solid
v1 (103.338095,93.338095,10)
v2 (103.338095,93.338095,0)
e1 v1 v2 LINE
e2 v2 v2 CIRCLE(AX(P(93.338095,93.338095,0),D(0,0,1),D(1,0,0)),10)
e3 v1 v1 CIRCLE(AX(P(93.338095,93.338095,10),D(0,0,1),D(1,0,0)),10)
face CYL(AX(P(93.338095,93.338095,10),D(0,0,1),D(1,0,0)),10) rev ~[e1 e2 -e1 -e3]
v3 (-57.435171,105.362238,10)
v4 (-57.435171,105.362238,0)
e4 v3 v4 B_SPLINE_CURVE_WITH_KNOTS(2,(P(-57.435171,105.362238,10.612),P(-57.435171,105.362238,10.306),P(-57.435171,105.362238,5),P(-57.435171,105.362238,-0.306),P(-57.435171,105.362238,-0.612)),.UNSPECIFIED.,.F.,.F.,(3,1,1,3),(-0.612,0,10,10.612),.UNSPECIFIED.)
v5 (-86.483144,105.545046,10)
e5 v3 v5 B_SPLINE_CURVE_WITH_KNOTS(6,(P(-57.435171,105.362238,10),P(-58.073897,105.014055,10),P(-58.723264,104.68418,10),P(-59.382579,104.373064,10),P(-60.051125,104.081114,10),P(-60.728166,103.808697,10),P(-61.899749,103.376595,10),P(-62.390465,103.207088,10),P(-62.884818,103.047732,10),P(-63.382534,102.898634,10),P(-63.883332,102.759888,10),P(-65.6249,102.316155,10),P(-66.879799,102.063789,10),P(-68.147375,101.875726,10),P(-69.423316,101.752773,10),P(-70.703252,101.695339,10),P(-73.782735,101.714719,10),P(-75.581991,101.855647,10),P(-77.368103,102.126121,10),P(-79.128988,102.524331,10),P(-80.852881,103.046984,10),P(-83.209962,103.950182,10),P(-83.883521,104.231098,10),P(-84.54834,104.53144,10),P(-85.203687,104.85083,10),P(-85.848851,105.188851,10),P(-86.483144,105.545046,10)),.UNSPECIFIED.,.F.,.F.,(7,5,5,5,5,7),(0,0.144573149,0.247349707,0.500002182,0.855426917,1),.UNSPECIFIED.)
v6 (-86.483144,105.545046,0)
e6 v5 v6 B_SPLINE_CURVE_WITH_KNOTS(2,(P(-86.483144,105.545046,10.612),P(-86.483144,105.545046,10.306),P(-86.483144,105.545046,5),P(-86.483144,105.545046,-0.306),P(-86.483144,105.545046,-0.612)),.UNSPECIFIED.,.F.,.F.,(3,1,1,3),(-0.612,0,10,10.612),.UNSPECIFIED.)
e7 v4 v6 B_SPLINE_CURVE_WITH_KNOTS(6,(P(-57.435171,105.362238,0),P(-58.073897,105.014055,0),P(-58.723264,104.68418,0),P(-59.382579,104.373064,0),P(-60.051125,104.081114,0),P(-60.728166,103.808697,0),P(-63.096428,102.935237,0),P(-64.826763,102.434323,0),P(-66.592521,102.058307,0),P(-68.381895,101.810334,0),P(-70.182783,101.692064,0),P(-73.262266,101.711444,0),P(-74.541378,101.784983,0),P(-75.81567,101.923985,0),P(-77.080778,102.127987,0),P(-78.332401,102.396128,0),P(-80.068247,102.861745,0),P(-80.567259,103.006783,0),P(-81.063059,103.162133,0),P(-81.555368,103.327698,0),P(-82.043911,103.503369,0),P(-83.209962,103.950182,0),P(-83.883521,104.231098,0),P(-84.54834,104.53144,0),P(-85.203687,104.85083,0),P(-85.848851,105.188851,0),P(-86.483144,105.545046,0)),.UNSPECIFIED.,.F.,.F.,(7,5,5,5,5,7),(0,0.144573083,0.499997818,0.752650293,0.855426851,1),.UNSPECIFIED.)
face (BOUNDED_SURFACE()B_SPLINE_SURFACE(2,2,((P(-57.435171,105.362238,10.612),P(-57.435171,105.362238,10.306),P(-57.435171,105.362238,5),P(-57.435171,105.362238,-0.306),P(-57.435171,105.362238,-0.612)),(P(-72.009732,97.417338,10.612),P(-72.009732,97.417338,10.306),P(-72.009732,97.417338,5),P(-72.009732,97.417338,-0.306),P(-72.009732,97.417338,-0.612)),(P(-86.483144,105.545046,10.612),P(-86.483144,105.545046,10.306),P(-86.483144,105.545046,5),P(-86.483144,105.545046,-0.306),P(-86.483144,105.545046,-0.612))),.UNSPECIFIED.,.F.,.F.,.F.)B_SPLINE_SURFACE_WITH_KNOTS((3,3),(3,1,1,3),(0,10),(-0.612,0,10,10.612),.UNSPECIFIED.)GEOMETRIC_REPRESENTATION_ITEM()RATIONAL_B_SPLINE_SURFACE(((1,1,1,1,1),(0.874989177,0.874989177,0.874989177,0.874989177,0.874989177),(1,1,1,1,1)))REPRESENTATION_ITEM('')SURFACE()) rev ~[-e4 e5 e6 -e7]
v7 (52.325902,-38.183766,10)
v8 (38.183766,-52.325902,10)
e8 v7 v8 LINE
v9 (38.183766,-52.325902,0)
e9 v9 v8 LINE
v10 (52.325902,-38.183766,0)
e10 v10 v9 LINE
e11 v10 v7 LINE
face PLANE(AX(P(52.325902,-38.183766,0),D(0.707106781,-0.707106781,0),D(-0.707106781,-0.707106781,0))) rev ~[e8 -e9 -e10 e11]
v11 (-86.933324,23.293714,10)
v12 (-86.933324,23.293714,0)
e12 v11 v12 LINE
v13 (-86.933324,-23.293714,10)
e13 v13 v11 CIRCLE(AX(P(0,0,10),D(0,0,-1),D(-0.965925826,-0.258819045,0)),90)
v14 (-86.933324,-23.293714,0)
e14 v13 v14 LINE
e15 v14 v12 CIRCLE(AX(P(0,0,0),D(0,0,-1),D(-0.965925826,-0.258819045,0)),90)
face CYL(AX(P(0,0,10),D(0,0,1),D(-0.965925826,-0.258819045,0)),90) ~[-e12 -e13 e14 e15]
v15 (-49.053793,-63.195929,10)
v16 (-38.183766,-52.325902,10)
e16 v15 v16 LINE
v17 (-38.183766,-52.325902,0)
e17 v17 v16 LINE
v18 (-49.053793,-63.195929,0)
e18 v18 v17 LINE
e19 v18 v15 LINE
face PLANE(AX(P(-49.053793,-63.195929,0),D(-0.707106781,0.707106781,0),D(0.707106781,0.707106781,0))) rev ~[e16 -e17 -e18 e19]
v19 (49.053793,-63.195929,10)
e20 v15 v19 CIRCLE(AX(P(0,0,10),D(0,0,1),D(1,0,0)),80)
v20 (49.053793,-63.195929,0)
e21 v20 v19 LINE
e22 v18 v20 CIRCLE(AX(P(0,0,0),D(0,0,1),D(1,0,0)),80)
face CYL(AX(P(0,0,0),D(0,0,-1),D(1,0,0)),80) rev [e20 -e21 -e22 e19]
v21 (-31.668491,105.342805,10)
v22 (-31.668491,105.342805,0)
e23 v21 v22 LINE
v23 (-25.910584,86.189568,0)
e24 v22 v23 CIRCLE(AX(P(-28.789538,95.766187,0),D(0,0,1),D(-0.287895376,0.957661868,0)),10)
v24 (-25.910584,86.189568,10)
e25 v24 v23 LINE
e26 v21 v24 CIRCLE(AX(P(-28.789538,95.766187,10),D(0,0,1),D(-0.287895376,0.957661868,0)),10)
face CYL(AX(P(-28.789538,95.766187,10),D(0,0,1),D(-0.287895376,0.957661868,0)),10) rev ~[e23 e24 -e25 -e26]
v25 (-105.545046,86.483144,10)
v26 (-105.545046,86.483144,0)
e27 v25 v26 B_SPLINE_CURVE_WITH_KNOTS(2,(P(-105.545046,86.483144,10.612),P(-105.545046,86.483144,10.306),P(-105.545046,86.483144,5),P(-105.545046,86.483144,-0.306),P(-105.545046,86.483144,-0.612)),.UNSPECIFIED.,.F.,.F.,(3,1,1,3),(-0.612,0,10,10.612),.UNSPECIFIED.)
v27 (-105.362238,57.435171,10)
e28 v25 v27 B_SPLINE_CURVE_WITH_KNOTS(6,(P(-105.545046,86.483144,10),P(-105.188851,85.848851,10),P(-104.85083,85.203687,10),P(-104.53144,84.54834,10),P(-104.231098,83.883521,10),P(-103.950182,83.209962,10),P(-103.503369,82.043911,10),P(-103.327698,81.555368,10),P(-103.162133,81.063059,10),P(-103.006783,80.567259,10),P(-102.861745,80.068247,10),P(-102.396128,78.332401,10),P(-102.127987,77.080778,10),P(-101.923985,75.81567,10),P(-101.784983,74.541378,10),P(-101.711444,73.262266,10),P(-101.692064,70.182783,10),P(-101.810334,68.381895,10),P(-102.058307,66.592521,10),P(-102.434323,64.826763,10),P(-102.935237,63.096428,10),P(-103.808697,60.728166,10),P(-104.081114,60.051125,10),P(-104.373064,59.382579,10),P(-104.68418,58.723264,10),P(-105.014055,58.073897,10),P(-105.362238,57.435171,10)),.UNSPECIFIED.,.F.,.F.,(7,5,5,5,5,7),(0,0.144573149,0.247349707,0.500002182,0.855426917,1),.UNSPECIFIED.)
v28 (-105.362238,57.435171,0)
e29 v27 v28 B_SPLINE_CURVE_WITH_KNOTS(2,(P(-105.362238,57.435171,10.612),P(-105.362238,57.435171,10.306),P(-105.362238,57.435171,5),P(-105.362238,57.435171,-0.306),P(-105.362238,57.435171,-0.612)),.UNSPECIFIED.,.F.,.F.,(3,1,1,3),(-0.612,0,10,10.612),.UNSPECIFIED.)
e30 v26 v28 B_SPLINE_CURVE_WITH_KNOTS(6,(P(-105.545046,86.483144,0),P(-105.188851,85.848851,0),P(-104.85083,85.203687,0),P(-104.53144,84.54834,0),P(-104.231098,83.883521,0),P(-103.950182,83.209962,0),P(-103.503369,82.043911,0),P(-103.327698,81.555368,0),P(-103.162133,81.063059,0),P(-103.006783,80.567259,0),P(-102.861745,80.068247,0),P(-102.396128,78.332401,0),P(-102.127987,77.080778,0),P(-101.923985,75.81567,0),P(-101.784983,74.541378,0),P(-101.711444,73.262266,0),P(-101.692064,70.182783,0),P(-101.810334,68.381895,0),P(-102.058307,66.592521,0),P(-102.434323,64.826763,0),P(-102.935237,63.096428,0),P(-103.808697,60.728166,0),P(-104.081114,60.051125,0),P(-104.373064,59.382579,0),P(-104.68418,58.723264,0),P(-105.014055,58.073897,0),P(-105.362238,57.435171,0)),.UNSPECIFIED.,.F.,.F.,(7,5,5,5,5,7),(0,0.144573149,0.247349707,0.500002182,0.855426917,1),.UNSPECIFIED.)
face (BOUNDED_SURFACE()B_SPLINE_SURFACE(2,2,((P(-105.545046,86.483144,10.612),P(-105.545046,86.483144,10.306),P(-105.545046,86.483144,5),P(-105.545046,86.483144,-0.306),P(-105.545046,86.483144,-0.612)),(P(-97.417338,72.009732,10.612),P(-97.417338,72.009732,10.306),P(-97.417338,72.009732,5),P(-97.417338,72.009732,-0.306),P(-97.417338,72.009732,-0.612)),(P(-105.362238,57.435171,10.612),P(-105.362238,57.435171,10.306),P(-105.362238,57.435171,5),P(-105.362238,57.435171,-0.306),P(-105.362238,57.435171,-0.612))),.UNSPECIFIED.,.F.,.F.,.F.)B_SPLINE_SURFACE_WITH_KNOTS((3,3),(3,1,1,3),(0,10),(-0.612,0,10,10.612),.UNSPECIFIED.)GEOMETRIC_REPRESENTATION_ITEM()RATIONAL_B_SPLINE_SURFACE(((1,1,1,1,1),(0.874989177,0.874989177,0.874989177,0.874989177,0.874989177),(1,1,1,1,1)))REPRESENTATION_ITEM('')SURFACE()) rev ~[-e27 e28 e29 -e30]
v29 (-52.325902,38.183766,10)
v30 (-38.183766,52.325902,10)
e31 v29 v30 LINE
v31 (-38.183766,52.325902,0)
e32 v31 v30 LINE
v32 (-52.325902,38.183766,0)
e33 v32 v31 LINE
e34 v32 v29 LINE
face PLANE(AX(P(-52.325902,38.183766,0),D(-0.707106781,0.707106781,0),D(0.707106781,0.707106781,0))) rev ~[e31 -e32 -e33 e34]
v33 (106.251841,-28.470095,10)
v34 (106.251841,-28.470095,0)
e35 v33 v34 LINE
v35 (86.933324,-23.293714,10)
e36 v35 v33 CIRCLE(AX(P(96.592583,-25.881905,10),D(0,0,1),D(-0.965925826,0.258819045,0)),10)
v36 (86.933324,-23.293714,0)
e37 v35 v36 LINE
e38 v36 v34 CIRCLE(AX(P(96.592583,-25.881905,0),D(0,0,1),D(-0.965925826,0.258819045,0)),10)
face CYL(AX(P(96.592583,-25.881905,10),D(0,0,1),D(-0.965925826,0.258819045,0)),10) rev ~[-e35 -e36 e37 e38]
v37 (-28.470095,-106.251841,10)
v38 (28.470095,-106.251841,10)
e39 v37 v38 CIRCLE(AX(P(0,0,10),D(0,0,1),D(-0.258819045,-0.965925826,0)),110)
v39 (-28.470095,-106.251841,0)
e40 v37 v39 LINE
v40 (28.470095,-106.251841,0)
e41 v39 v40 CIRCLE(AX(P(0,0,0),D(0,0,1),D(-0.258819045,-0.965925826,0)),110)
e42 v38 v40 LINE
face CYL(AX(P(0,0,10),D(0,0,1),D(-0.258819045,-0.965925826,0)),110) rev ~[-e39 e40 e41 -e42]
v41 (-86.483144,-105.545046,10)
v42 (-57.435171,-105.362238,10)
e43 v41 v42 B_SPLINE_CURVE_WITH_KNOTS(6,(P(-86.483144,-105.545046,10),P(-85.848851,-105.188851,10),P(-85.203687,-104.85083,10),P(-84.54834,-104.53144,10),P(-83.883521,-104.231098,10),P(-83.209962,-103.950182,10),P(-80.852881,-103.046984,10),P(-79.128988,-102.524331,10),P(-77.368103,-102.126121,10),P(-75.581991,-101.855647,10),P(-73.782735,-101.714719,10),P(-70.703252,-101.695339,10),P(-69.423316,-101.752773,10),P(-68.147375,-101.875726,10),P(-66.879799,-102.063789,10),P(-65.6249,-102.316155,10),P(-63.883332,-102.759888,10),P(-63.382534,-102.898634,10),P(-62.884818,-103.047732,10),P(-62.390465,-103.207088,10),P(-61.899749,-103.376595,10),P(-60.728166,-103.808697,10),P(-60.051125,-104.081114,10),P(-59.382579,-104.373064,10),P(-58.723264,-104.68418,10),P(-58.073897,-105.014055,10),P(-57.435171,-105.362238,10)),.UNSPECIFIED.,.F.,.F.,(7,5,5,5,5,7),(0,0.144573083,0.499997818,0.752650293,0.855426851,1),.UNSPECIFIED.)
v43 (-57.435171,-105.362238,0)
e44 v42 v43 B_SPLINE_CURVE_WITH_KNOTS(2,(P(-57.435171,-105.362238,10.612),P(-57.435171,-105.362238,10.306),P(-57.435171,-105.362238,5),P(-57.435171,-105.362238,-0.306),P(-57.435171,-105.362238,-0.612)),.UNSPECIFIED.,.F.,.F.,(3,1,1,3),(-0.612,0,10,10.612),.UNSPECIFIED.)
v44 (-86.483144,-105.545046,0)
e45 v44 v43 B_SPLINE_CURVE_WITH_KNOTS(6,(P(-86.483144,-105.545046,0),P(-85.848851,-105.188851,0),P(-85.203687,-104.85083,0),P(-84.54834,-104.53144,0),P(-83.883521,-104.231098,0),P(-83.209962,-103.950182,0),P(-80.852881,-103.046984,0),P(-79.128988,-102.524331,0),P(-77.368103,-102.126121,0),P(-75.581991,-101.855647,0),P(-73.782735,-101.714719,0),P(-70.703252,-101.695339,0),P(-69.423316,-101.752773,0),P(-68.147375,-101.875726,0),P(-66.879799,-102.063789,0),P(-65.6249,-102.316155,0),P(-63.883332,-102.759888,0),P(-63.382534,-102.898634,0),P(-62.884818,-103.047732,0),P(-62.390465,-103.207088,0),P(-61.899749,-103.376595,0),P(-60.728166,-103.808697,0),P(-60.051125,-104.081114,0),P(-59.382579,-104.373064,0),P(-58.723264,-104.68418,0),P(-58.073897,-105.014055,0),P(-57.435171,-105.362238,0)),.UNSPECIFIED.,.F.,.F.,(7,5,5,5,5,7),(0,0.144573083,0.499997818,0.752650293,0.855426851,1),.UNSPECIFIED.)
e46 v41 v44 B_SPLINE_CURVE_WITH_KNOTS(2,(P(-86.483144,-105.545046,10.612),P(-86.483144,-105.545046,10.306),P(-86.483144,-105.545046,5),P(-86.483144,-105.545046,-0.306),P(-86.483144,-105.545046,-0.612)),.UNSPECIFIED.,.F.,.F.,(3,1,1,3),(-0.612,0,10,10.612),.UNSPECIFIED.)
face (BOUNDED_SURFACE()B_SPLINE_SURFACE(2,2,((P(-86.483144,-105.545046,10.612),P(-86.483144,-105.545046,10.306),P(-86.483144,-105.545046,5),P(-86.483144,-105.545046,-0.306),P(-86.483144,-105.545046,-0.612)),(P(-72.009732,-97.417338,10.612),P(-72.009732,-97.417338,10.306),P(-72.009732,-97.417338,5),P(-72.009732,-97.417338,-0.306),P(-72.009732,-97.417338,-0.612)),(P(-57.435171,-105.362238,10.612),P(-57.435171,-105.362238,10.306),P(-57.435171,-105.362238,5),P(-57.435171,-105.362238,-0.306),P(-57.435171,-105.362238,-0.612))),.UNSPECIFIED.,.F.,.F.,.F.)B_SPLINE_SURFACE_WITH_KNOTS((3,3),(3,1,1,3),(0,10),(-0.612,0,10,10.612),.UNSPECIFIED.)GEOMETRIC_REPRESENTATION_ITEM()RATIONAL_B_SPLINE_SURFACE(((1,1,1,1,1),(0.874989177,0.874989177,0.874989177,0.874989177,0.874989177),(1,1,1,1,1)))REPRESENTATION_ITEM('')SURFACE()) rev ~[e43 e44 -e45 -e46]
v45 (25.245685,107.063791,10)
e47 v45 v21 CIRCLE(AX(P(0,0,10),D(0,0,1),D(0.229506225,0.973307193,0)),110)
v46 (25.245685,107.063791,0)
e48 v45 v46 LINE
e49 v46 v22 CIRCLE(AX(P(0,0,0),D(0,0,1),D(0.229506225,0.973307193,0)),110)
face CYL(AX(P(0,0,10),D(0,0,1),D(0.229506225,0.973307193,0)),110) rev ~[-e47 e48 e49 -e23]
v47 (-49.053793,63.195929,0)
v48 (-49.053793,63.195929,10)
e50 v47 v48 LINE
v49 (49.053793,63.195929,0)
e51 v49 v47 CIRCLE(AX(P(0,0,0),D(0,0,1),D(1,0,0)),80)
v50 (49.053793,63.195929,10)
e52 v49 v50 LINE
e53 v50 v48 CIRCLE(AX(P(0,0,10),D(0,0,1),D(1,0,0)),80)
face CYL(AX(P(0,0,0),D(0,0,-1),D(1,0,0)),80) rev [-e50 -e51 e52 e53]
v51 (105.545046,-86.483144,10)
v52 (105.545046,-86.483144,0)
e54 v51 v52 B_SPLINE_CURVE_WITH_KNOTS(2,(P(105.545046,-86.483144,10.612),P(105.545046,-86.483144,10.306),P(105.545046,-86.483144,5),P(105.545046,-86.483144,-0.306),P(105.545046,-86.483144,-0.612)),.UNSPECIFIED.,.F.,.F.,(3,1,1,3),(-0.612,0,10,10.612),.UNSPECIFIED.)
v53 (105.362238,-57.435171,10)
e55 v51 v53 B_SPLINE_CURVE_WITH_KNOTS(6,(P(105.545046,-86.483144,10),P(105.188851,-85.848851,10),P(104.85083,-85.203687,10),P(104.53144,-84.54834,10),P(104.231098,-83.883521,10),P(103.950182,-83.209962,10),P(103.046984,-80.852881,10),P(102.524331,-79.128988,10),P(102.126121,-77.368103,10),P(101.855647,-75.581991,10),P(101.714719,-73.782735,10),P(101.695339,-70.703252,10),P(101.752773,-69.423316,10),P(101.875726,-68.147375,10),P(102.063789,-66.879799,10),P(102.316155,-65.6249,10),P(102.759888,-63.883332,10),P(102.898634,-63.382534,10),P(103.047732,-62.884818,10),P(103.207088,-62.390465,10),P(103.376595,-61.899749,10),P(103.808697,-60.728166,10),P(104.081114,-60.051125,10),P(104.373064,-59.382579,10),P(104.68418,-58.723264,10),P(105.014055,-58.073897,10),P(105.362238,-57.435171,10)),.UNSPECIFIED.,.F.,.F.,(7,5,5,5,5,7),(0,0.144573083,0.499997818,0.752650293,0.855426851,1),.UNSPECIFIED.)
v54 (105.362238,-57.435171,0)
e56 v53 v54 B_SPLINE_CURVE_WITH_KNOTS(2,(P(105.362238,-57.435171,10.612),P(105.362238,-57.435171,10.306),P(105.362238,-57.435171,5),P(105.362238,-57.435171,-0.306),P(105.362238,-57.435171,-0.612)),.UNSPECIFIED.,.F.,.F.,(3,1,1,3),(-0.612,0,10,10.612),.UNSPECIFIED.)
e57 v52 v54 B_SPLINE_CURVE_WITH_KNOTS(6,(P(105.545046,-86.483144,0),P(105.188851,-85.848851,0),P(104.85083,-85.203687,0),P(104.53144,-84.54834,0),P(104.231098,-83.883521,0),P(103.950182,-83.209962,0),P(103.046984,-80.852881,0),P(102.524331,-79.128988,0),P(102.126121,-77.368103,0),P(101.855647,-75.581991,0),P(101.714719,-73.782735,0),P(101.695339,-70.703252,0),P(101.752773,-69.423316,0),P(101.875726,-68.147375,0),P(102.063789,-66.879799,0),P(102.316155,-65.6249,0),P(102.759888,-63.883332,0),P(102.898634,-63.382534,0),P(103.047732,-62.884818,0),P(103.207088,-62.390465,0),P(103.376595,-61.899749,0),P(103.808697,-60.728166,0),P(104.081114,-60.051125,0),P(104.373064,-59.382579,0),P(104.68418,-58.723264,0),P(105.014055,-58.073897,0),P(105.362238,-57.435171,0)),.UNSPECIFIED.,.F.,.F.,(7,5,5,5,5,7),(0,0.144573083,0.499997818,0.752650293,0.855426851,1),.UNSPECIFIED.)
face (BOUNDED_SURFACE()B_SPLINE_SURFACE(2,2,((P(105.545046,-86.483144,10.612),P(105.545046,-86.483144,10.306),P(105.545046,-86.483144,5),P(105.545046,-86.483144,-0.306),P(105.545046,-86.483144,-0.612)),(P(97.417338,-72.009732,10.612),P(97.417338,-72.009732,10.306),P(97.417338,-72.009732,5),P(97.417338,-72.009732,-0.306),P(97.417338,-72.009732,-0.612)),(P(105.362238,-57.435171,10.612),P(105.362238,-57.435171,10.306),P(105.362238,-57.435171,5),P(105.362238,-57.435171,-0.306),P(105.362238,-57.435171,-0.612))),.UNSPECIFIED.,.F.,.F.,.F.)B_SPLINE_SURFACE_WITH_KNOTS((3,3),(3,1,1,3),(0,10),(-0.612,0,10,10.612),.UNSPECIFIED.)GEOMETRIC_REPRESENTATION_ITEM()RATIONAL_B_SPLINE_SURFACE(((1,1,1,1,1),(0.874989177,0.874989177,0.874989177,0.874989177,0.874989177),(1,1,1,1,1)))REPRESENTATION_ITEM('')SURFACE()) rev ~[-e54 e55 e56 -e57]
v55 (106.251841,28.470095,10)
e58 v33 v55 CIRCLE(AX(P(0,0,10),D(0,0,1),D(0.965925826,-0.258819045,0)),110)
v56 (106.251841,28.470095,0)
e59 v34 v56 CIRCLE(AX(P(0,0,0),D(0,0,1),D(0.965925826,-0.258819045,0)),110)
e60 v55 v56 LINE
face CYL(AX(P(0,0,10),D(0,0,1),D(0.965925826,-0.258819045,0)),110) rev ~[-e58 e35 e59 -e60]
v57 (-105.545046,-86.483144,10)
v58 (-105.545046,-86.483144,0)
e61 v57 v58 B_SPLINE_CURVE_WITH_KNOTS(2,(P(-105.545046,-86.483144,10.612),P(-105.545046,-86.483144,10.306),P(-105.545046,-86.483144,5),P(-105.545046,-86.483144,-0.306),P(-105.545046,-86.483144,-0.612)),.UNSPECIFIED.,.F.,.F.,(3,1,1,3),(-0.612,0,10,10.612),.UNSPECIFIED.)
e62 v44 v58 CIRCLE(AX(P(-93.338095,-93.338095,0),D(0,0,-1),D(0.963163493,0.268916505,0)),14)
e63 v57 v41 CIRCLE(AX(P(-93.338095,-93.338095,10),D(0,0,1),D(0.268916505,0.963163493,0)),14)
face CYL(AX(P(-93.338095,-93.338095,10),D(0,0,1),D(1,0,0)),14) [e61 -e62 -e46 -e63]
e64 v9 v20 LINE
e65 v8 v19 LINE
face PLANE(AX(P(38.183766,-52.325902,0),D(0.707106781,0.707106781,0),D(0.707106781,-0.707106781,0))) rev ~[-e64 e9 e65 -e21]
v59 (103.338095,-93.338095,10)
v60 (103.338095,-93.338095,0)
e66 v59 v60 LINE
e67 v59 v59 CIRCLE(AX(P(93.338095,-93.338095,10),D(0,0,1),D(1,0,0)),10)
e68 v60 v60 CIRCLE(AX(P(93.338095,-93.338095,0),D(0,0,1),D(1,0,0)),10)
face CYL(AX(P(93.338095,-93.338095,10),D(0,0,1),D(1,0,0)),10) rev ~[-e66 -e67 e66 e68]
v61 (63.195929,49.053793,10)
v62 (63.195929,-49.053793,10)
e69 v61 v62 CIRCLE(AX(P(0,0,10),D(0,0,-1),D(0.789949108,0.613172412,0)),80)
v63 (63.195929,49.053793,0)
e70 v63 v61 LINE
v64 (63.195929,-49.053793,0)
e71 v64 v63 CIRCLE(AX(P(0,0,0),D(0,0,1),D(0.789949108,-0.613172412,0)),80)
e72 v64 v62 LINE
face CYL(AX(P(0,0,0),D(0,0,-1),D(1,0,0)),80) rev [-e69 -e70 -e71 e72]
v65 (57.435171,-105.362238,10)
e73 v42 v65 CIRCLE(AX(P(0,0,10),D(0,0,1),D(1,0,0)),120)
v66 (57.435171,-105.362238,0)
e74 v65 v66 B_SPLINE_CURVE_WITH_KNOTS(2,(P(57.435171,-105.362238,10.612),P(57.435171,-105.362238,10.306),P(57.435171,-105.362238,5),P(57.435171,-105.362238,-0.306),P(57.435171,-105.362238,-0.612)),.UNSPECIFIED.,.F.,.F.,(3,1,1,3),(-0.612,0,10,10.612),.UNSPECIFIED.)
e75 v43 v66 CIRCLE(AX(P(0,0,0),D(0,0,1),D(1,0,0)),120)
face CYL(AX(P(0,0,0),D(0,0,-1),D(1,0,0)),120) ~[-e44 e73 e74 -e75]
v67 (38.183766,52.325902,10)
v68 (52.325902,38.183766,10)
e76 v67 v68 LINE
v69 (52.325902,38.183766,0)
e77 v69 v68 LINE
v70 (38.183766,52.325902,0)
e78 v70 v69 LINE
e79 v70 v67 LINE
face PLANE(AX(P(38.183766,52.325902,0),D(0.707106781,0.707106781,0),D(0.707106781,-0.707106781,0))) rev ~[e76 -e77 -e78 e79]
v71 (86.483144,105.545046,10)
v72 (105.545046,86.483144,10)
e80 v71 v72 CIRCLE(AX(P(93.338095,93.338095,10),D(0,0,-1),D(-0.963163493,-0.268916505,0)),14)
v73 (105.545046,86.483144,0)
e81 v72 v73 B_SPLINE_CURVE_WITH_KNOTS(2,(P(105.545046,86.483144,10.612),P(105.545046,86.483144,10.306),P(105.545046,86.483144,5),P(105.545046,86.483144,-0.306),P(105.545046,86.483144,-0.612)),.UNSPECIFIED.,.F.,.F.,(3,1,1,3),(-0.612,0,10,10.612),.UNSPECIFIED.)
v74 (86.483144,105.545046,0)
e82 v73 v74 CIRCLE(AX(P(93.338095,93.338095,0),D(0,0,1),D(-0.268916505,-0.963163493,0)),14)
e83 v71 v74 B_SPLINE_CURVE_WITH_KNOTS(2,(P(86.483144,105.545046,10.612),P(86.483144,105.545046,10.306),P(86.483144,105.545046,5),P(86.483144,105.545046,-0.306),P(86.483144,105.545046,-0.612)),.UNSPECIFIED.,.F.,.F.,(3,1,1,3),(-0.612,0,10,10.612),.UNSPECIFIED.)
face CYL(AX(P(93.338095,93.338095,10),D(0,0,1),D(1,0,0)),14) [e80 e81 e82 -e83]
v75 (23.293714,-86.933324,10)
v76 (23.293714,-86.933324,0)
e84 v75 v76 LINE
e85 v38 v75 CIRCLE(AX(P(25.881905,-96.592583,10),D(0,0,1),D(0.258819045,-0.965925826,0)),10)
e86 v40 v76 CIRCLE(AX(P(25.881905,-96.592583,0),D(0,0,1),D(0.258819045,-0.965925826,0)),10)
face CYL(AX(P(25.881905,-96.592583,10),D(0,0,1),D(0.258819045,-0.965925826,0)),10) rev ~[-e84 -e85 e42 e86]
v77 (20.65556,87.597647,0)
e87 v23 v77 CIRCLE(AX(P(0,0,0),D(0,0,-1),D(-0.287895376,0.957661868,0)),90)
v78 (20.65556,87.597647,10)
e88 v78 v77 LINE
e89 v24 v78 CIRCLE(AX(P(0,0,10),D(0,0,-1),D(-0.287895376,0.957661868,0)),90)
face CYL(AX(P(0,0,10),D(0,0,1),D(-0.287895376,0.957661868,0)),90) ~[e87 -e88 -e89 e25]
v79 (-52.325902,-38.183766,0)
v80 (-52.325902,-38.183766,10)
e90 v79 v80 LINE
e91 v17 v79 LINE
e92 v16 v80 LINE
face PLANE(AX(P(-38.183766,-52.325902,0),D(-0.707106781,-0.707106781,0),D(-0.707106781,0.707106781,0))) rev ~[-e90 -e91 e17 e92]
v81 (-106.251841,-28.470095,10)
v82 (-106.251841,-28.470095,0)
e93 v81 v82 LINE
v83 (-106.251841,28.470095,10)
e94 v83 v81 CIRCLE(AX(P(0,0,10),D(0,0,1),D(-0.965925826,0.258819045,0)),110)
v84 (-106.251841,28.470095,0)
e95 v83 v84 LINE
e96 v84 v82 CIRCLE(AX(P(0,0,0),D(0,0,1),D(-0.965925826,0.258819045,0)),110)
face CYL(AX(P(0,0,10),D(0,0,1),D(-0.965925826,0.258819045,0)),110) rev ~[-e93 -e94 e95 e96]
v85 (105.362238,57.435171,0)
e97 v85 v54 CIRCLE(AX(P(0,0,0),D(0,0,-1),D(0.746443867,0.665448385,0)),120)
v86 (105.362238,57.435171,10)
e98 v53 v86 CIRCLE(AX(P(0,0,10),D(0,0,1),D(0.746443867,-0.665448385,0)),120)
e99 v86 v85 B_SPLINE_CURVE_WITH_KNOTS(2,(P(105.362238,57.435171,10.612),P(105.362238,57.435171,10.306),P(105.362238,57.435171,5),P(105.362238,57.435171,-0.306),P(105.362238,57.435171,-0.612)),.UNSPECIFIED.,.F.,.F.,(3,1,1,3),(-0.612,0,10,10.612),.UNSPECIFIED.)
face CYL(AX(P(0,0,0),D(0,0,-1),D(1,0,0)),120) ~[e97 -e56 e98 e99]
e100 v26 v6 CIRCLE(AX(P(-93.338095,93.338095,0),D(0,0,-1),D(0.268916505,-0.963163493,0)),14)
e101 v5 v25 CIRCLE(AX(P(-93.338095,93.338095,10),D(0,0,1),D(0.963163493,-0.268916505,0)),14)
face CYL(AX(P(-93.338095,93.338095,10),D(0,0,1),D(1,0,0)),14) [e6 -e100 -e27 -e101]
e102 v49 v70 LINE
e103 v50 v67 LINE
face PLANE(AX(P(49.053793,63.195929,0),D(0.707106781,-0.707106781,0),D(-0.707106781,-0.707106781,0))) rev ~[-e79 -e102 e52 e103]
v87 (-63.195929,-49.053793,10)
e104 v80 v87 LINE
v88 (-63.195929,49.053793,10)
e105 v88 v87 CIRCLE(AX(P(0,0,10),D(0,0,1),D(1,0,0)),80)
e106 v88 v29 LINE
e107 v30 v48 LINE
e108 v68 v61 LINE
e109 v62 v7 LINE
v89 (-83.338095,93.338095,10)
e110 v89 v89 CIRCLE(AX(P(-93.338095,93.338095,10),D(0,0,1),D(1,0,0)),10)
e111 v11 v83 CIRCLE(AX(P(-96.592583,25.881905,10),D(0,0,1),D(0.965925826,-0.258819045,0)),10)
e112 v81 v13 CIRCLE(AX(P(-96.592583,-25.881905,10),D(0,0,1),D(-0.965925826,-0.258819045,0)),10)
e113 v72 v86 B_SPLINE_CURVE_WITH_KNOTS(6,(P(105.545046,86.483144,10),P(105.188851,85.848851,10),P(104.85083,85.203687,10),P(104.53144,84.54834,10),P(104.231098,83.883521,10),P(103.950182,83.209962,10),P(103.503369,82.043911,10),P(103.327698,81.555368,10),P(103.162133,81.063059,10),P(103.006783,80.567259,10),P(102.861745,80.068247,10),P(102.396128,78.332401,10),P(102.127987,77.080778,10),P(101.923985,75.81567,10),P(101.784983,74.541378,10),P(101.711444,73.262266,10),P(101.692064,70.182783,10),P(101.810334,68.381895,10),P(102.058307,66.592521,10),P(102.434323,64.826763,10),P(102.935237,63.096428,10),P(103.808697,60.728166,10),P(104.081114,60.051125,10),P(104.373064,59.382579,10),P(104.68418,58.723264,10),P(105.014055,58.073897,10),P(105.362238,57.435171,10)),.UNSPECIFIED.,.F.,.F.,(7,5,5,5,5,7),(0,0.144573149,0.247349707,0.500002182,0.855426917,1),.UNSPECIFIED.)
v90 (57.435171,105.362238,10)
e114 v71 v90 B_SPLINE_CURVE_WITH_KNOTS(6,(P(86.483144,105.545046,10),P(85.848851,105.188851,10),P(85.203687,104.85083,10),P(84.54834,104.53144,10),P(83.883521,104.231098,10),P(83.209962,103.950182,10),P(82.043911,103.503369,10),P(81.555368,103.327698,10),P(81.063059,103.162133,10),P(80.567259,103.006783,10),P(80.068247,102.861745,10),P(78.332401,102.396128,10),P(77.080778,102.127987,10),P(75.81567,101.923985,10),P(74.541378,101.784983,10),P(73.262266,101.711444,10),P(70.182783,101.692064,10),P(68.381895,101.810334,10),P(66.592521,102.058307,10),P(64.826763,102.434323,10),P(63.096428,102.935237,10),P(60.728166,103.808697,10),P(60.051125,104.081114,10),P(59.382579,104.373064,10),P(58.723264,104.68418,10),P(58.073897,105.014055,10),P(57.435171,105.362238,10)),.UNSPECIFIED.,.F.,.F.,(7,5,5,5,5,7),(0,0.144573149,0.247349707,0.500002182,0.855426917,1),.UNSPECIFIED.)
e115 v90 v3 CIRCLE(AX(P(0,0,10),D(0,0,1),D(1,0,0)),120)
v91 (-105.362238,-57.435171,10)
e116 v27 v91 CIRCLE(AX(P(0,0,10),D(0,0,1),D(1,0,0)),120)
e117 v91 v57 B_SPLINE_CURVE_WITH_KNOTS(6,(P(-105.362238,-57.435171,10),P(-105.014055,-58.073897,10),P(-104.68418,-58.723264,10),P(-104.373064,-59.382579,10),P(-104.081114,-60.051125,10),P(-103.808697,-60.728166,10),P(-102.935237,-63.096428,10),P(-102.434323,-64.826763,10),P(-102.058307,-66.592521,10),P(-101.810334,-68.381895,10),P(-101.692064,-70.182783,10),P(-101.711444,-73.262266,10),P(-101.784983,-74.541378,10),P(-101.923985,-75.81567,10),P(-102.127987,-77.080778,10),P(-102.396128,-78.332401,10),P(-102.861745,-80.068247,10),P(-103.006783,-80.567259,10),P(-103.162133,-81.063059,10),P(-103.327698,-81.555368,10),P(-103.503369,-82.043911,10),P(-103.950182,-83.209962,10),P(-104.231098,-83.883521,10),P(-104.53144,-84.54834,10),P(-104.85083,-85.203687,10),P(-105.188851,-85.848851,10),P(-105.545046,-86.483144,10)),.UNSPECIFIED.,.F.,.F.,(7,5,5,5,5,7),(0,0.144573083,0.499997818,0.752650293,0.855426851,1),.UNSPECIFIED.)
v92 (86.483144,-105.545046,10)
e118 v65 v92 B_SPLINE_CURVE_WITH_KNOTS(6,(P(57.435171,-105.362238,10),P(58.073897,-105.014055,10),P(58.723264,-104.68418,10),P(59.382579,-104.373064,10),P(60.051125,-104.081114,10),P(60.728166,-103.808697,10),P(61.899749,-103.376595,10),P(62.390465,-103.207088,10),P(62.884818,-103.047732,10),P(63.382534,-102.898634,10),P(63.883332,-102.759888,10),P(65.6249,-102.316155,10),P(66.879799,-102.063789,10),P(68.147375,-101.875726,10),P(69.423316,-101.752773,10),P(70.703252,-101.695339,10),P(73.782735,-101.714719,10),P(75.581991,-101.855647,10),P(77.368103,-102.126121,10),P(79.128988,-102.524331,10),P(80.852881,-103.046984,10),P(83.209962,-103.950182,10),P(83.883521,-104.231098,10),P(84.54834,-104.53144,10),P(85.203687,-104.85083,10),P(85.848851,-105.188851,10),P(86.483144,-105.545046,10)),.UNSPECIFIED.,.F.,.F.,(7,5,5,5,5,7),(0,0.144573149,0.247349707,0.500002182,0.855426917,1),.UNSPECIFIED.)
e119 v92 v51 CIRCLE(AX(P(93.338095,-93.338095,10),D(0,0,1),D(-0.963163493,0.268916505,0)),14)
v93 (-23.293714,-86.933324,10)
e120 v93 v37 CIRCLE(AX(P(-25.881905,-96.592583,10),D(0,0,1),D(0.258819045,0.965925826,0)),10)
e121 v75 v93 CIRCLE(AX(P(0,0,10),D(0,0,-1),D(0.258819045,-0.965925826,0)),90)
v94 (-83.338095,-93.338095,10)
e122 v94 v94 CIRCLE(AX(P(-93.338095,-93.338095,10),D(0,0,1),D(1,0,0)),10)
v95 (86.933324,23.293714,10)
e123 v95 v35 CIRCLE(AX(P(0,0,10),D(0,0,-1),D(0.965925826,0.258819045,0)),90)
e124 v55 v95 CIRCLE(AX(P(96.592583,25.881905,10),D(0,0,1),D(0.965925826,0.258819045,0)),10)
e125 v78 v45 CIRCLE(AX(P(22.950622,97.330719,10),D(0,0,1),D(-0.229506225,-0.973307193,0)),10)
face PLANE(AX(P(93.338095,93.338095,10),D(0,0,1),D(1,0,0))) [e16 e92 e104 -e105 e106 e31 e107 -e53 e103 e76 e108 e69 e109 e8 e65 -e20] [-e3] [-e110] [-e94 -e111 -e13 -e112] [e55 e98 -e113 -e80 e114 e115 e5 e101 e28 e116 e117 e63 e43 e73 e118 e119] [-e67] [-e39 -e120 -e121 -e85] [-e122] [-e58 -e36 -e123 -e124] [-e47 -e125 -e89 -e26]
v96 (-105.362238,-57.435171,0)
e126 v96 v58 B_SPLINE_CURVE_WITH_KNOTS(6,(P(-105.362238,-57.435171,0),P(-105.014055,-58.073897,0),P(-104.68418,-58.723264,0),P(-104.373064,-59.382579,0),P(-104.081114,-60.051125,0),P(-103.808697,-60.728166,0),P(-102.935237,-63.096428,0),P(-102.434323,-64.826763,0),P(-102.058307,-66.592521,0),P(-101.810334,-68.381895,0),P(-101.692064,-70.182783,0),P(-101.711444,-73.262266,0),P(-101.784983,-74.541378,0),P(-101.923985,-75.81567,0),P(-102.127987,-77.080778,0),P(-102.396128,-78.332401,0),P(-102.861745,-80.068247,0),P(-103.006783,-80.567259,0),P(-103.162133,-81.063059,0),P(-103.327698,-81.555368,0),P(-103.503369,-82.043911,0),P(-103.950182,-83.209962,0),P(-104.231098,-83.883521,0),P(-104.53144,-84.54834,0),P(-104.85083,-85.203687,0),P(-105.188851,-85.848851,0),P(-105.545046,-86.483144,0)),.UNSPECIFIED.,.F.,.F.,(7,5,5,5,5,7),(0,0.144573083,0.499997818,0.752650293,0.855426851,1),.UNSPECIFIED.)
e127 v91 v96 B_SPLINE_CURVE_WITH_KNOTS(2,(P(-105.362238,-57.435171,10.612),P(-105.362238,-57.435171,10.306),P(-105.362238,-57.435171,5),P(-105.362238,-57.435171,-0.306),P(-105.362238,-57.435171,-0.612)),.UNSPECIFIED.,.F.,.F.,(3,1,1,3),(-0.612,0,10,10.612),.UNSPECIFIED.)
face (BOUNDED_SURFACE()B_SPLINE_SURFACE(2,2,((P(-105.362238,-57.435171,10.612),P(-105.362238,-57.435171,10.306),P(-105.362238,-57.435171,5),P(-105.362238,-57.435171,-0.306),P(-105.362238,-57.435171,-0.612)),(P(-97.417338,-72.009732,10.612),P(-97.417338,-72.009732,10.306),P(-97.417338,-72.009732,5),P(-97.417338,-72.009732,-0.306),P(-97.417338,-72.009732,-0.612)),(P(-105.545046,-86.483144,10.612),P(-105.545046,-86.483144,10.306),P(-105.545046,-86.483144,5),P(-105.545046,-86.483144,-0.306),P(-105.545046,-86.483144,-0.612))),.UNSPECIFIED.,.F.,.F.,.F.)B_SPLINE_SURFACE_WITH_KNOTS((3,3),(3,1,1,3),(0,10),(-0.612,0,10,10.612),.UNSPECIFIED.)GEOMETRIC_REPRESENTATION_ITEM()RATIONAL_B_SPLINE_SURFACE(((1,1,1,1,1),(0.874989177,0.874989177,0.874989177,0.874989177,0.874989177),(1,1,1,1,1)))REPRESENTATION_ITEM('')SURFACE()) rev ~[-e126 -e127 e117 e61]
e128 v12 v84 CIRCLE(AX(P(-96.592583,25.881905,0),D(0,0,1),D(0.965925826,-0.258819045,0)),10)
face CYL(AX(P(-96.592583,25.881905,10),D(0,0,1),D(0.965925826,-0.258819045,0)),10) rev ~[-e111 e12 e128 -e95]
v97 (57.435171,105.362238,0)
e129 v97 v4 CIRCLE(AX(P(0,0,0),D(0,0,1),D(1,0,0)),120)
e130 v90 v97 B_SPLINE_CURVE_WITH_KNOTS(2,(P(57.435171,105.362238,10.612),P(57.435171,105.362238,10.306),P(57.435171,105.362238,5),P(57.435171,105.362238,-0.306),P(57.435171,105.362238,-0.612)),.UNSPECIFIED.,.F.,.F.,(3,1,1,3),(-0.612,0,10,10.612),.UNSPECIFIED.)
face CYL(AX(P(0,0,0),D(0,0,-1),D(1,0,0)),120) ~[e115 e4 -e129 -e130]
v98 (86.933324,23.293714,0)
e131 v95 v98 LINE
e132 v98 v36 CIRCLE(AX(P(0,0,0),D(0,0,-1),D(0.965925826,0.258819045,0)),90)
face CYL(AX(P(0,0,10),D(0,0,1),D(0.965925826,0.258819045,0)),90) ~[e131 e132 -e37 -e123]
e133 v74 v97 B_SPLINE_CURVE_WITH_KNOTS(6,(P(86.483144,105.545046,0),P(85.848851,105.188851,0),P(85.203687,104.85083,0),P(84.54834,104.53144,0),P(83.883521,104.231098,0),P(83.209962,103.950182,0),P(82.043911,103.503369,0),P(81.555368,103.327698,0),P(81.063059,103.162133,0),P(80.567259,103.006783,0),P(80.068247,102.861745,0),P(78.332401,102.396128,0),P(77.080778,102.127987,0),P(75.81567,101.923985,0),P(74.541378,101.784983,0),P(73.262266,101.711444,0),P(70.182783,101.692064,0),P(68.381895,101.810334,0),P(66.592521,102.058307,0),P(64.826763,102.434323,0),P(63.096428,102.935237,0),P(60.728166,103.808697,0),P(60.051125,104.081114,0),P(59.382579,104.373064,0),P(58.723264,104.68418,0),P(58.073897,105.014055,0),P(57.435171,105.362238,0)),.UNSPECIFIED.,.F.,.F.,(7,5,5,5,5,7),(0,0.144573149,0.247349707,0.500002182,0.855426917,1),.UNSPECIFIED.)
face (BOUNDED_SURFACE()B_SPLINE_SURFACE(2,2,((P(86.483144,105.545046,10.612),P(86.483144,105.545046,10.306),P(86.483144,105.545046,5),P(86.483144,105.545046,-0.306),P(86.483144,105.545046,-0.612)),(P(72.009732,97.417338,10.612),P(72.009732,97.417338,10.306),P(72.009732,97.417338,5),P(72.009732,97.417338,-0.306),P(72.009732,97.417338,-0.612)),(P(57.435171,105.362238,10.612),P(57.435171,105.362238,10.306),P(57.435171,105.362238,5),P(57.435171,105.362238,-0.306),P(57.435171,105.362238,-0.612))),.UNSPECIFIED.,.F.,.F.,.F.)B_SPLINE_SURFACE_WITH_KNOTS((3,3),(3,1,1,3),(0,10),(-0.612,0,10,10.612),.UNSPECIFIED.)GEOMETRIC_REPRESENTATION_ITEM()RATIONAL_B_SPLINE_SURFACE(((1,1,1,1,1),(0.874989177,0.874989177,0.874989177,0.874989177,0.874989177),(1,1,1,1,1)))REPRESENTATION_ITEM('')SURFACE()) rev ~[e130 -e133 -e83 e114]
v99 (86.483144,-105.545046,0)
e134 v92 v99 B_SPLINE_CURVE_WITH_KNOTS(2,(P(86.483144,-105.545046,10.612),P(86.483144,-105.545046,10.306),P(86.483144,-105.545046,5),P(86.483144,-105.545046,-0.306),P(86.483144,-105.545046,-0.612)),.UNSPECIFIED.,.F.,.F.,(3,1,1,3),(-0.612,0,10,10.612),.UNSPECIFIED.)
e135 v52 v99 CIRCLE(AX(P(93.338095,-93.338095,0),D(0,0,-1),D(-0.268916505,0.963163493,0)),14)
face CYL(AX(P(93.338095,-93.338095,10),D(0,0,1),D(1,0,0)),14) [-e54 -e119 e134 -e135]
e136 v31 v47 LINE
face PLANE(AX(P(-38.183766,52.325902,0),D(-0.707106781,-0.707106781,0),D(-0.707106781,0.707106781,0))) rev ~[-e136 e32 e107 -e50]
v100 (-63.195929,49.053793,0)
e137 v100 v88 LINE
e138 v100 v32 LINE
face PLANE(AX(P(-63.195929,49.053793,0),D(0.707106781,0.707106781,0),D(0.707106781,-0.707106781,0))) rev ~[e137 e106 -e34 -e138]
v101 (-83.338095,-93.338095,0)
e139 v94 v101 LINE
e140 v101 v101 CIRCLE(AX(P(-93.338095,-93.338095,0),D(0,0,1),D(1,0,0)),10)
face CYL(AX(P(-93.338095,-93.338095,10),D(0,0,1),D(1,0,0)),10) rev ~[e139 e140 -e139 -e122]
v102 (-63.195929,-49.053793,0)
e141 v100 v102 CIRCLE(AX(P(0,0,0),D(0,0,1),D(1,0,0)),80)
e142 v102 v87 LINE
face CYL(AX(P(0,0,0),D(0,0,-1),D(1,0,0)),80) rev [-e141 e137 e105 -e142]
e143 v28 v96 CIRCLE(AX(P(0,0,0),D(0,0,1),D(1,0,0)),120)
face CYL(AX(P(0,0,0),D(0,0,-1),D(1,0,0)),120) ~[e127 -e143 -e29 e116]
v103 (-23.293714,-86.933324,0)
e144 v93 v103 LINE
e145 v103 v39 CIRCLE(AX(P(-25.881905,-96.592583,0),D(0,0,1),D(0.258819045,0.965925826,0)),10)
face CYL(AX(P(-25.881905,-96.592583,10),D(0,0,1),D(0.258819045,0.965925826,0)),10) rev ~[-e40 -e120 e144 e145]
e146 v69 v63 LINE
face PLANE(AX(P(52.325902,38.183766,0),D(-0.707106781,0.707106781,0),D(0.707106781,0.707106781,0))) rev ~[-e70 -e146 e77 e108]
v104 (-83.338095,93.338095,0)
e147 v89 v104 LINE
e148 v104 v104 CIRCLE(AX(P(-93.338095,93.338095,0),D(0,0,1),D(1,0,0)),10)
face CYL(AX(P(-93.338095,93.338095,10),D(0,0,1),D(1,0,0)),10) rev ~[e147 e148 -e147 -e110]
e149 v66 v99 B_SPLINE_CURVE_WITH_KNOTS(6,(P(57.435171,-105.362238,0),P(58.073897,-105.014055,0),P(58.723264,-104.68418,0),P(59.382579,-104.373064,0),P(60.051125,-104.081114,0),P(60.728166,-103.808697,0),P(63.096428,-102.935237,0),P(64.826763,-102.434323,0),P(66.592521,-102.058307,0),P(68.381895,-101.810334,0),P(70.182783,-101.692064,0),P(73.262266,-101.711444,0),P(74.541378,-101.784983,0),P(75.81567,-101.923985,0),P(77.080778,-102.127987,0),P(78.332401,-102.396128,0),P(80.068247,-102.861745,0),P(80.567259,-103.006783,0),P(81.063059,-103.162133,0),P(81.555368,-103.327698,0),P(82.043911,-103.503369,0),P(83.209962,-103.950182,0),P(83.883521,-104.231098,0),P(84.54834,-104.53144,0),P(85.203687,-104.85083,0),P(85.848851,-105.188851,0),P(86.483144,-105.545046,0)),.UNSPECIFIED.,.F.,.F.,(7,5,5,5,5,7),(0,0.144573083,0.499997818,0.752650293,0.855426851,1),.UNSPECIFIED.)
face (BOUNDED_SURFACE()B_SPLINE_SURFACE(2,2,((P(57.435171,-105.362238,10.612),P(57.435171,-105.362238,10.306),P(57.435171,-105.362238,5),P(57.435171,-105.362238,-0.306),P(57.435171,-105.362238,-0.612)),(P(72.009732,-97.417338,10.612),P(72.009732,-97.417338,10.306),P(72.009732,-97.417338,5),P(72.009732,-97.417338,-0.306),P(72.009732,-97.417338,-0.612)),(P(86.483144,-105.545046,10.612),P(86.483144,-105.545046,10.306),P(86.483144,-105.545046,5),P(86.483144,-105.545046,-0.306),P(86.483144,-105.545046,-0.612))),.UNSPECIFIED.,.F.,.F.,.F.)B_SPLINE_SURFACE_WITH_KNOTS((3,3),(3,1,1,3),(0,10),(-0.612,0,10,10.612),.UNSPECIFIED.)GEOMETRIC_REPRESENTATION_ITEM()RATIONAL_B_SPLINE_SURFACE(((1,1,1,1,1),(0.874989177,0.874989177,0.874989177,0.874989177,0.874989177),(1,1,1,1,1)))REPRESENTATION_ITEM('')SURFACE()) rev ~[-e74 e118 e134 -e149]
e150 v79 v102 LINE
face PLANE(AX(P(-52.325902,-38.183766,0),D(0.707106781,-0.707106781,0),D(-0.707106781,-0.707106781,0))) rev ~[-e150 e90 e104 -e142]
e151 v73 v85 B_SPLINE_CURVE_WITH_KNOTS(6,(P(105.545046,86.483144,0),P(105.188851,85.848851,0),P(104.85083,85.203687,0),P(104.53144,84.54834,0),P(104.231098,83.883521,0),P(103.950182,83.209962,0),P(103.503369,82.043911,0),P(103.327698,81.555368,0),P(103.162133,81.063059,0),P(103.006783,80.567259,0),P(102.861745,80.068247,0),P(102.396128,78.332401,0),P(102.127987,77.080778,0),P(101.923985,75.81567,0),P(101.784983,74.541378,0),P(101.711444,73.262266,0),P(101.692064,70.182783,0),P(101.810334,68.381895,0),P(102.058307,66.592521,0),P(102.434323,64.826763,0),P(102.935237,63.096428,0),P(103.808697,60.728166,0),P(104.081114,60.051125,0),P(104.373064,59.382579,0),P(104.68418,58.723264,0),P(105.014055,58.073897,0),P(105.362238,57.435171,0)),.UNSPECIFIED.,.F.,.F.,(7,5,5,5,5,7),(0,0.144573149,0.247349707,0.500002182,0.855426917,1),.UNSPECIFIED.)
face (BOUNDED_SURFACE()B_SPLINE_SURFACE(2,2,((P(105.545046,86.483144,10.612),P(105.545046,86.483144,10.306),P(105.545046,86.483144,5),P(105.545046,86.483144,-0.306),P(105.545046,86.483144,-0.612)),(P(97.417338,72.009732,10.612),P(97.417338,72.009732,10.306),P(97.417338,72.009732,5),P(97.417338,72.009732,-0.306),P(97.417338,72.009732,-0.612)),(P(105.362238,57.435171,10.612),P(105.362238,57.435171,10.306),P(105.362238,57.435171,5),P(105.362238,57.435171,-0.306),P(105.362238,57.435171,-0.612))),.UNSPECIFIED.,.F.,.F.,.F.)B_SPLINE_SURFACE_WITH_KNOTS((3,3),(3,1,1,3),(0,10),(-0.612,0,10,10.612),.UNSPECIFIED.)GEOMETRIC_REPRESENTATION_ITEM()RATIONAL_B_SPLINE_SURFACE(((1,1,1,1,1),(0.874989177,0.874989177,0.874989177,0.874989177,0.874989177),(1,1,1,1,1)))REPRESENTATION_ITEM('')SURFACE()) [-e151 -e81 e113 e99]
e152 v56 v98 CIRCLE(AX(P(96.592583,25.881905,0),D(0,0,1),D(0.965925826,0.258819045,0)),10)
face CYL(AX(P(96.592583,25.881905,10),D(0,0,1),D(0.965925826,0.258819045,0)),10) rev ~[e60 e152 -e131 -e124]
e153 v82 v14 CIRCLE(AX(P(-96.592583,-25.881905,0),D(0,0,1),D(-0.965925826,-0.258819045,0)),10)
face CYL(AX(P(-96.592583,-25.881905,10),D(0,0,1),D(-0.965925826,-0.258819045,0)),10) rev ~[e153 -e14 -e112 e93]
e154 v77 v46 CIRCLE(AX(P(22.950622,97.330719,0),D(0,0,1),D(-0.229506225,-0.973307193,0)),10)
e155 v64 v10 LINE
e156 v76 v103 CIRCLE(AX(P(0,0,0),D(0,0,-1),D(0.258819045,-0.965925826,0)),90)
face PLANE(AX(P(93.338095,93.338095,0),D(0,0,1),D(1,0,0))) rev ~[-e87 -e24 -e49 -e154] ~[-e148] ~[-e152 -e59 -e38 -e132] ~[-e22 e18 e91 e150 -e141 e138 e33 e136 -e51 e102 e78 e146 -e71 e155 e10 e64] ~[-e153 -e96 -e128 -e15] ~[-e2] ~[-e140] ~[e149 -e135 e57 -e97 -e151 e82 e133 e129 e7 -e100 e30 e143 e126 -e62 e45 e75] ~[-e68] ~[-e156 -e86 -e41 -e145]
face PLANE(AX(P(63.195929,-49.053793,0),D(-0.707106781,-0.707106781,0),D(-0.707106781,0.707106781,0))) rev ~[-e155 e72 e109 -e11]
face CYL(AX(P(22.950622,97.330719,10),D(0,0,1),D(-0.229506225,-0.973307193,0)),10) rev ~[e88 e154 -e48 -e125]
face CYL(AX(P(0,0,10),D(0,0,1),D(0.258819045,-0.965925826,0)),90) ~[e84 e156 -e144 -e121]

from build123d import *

# Parameters (mm, degrees)
ESBO_O1_R                = 120
ESBO_O1_R_2              = 80
RESSALTO_EXTRUS_O1_DEPTH = 10
CORTE_EXTRUS_O1_DEPTH    = 10
ESBO_O3_R                = 14
ESBO_O3_R_2              = 10
RESSALTO_EXTRUS_O2_DEPTH = 10
FILETE1_R                = 30
RESSALTO_EXTRUS_O3_START = -10
RESSALTO_EXTRUS_O3_DEPTH = 10


with BuildPart() as part:
    # Esboço1 → Ressalto-extrusão1 (new body)
    with BuildSketch(Plane.XY):
        Circle(ESBO_O1_R)
        Circle(ESBO_O1_R_2, mode=Mode.SUBTRACT)
    extrude(amount=RESSALTO_EXTRUS_O1_DEPTH)

    # Esboço2 → Corte-extrusão1 (cut)
    with BuildSketch(Plane.XY.offset(10)):
        with BuildLine():
            ThreePointArc((25.245684703, 107.063791283), (-3.324689368, 109.949745068), (-31.668491353, 105.342805428))
            ThreePointArc((-31.668491353, 105.342805428), (-38.366156269, 92.887232993), (-25.910583834, 86.189568077))
            ThreePointArc((-25.910583834, 86.189568077), (-2.720200392, 89.958882329), (20.655560211, 87.597647413))
            ThreePointArc((20.655560211, 87.597647413), (32.683694392, 95.035657102), (25.245684703, 107.063791283))
        make_face()
        with BuildLine():
            ThreePointArc((106.251840892, -28.470094961), (110, 0), (106.251840892, 28.470094961))
            ThreePointArc((106.251840892, 28.470094961), (94.004392178, 35.541162773), (86.933324366, 23.293714059))
            ThreePointArc((86.933324366, 23.293714059), (90, 0), (86.933324366, -23.293714059))
            ThreePointArc((86.933324366, -23.293714059), (94.004392178, -35.541162773), (106.251840892, -28.470094961))
        make_face()
        with BuildLine():
            ThreePointArc((-28.470094961, -106.251840892), (0, -110), (28.470094961, -106.251840892))
            ThreePointArc((28.470094961, -106.251840892), (35.541162773, -94.004392178), (23.293714059, -86.933324366))
            ThreePointArc((23.293714059, -86.933324366), (0, -90), (-23.293714059, -86.933324366))
            ThreePointArc((-23.293714059, -86.933324366), (-35.541162773, -94.004392178), (-28.470094961, -106.251840892))
        make_face()
        with BuildLine():
            ThreePointArc((-106.251840892, 28.470094961), (-110, 0), (-106.251840892, -28.470094961))
            ThreePointArc((-106.251840892, -28.470094961), (-94.004392178, -35.541162773), (-86.933324366, -23.293714059))
            ThreePointArc((-86.933324366, -23.293714059), (-90, 0), (-86.933324366, 23.293714059))
            ThreePointArc((-86.933324366, 23.293714059), (-94.004392178, 35.541162773), (-106.251840892, 28.470094961))
        make_face()
    extrude(amount=-CORTE_EXTRUS_O1_DEPTH, mode=Mode.SUBTRACT)

    # Esboço3 → Ressalto-extrusão2 (add)
    # profile 1 of 4: a face of its own
    with BuildSketch(Plane.XY.offset(10)):
        with Locations((93.338095117, 93.338095117)):
            Circle(ESBO_O3_R)
        with Locations((93.338095117, 93.338095117)):
            Circle(ESBO_O3_R_2, mode=Mode.SUBTRACT)
    # profile 2 of 4: a face of its own
    with BuildSketch(Plane.XY.offset(10)):
        with Locations((93.338095117, -93.338095117)):
            Circle(ESBO_O3_R)
        with Locations((93.338095117, -93.338095117)):
            Circle(ESBO_O3_R_2, mode=Mode.SUBTRACT)
    # profile 3 of 4: a face of its own
    with BuildSketch(Plane.XY.offset(10)):
        with Locations((-93.338095117, -93.338095117)):
            Circle(ESBO_O3_R)
        with Locations((-93.338095117, -93.338095117)):
            Circle(ESBO_O3_R_2, mode=Mode.SUBTRACT)
    # profile 4 of 4: a face of its own
    with BuildSketch(Plane.XY.offset(10)):
        with Locations((-93.338095117, 93.338095117)):
            Circle(ESBO_O3_R)
        with Locations((-93.338095117, 93.338095117)):
            Circle(ESBO_O3_R_2, mode=Mode.SUBTRACT)
    extrude(amount=-RESSALTO_EXTRUS_O2_DEPTH)

    # Filete1
    filete1_edges = [part.edges().sort_by_distance(p)[0] for p in [
        (-89.573264047, -79.853806221, 5),
        (-79.853806221, -89.573264047, 5),
        (-79.853806221, 89.573264047, 5),
        (-89.573264047, 79.853806221, 5),
        (79.853806221, 89.573264047, 5),
        (89.573264047, 79.853806221, 5),
        (89.573264047, -79.853806221, 5),
        (79.853806221, -89.573264047, 5),
    ]]
    fillet(filete1_edges, radius=FILETE1_R)

    # Esboço4 → Ressalto-extrusão3 (add)
    with BuildSketch(Plane.XY.offset(10).offset(RESSALTO_EXTRUS_O3_START)):
        with BuildLine():
            Line((52.325901808, -38.183766184), (38.183766184, -52.325901808))
            Line((38.183766184, -52.325901808), (49.05379299, -63.195928613))
            ThreePointArc((49.05379299, -63.195928613), (56.568542495, -56.568542495), (63.195928613, -49.05379299))
            Line((63.195928613, -49.05379299), (52.325901808, -38.183766184))
        make_face()
        with BuildLine():
            Line((-38.183766184, -52.325901808), (-52.325901808, -38.183766184))
            Line((-52.325901808, -38.183766184), (-63.195928613, -49.05379299))
            ThreePointArc((-63.195928613, -49.05379299), (-56.568542495, -56.568542495), (-49.05379299, -63.195928613))
            Line((-49.05379299, -63.195928613), (-38.183766184, -52.325901808))
        make_face()
        with BuildLine():
            Line((38.183766184, 52.325901808), (52.325901808, 38.183766184))
            Line((52.325901808, 38.183766184), (63.195928613, 49.05379299))
            ThreePointArc((63.195928613, 49.05379299), (56.568542495, 56.568542495), (49.05379299, 63.195928613))
            Line((49.05379299, 63.195928613), (38.183766184, 52.325901808))
        make_face()
        with BuildLine():
            Line((-52.325901808, 38.183766184), (-38.183766184, 52.325901808))
            Line((-38.183766184, 52.325901808), (-49.05379299, 63.195928613))
            ThreePointArc((-49.05379299, 63.195928613), (-56.568542495, 56.568542495), (-63.195928613, 49.05379299))
            Line((-63.195928613, 49.05379299), (-52.325901808, 38.183766184))
        make_face()
    extrude(amount=RESSALTO_EXTRUS_O3_DEPTH)


solid = part.part
